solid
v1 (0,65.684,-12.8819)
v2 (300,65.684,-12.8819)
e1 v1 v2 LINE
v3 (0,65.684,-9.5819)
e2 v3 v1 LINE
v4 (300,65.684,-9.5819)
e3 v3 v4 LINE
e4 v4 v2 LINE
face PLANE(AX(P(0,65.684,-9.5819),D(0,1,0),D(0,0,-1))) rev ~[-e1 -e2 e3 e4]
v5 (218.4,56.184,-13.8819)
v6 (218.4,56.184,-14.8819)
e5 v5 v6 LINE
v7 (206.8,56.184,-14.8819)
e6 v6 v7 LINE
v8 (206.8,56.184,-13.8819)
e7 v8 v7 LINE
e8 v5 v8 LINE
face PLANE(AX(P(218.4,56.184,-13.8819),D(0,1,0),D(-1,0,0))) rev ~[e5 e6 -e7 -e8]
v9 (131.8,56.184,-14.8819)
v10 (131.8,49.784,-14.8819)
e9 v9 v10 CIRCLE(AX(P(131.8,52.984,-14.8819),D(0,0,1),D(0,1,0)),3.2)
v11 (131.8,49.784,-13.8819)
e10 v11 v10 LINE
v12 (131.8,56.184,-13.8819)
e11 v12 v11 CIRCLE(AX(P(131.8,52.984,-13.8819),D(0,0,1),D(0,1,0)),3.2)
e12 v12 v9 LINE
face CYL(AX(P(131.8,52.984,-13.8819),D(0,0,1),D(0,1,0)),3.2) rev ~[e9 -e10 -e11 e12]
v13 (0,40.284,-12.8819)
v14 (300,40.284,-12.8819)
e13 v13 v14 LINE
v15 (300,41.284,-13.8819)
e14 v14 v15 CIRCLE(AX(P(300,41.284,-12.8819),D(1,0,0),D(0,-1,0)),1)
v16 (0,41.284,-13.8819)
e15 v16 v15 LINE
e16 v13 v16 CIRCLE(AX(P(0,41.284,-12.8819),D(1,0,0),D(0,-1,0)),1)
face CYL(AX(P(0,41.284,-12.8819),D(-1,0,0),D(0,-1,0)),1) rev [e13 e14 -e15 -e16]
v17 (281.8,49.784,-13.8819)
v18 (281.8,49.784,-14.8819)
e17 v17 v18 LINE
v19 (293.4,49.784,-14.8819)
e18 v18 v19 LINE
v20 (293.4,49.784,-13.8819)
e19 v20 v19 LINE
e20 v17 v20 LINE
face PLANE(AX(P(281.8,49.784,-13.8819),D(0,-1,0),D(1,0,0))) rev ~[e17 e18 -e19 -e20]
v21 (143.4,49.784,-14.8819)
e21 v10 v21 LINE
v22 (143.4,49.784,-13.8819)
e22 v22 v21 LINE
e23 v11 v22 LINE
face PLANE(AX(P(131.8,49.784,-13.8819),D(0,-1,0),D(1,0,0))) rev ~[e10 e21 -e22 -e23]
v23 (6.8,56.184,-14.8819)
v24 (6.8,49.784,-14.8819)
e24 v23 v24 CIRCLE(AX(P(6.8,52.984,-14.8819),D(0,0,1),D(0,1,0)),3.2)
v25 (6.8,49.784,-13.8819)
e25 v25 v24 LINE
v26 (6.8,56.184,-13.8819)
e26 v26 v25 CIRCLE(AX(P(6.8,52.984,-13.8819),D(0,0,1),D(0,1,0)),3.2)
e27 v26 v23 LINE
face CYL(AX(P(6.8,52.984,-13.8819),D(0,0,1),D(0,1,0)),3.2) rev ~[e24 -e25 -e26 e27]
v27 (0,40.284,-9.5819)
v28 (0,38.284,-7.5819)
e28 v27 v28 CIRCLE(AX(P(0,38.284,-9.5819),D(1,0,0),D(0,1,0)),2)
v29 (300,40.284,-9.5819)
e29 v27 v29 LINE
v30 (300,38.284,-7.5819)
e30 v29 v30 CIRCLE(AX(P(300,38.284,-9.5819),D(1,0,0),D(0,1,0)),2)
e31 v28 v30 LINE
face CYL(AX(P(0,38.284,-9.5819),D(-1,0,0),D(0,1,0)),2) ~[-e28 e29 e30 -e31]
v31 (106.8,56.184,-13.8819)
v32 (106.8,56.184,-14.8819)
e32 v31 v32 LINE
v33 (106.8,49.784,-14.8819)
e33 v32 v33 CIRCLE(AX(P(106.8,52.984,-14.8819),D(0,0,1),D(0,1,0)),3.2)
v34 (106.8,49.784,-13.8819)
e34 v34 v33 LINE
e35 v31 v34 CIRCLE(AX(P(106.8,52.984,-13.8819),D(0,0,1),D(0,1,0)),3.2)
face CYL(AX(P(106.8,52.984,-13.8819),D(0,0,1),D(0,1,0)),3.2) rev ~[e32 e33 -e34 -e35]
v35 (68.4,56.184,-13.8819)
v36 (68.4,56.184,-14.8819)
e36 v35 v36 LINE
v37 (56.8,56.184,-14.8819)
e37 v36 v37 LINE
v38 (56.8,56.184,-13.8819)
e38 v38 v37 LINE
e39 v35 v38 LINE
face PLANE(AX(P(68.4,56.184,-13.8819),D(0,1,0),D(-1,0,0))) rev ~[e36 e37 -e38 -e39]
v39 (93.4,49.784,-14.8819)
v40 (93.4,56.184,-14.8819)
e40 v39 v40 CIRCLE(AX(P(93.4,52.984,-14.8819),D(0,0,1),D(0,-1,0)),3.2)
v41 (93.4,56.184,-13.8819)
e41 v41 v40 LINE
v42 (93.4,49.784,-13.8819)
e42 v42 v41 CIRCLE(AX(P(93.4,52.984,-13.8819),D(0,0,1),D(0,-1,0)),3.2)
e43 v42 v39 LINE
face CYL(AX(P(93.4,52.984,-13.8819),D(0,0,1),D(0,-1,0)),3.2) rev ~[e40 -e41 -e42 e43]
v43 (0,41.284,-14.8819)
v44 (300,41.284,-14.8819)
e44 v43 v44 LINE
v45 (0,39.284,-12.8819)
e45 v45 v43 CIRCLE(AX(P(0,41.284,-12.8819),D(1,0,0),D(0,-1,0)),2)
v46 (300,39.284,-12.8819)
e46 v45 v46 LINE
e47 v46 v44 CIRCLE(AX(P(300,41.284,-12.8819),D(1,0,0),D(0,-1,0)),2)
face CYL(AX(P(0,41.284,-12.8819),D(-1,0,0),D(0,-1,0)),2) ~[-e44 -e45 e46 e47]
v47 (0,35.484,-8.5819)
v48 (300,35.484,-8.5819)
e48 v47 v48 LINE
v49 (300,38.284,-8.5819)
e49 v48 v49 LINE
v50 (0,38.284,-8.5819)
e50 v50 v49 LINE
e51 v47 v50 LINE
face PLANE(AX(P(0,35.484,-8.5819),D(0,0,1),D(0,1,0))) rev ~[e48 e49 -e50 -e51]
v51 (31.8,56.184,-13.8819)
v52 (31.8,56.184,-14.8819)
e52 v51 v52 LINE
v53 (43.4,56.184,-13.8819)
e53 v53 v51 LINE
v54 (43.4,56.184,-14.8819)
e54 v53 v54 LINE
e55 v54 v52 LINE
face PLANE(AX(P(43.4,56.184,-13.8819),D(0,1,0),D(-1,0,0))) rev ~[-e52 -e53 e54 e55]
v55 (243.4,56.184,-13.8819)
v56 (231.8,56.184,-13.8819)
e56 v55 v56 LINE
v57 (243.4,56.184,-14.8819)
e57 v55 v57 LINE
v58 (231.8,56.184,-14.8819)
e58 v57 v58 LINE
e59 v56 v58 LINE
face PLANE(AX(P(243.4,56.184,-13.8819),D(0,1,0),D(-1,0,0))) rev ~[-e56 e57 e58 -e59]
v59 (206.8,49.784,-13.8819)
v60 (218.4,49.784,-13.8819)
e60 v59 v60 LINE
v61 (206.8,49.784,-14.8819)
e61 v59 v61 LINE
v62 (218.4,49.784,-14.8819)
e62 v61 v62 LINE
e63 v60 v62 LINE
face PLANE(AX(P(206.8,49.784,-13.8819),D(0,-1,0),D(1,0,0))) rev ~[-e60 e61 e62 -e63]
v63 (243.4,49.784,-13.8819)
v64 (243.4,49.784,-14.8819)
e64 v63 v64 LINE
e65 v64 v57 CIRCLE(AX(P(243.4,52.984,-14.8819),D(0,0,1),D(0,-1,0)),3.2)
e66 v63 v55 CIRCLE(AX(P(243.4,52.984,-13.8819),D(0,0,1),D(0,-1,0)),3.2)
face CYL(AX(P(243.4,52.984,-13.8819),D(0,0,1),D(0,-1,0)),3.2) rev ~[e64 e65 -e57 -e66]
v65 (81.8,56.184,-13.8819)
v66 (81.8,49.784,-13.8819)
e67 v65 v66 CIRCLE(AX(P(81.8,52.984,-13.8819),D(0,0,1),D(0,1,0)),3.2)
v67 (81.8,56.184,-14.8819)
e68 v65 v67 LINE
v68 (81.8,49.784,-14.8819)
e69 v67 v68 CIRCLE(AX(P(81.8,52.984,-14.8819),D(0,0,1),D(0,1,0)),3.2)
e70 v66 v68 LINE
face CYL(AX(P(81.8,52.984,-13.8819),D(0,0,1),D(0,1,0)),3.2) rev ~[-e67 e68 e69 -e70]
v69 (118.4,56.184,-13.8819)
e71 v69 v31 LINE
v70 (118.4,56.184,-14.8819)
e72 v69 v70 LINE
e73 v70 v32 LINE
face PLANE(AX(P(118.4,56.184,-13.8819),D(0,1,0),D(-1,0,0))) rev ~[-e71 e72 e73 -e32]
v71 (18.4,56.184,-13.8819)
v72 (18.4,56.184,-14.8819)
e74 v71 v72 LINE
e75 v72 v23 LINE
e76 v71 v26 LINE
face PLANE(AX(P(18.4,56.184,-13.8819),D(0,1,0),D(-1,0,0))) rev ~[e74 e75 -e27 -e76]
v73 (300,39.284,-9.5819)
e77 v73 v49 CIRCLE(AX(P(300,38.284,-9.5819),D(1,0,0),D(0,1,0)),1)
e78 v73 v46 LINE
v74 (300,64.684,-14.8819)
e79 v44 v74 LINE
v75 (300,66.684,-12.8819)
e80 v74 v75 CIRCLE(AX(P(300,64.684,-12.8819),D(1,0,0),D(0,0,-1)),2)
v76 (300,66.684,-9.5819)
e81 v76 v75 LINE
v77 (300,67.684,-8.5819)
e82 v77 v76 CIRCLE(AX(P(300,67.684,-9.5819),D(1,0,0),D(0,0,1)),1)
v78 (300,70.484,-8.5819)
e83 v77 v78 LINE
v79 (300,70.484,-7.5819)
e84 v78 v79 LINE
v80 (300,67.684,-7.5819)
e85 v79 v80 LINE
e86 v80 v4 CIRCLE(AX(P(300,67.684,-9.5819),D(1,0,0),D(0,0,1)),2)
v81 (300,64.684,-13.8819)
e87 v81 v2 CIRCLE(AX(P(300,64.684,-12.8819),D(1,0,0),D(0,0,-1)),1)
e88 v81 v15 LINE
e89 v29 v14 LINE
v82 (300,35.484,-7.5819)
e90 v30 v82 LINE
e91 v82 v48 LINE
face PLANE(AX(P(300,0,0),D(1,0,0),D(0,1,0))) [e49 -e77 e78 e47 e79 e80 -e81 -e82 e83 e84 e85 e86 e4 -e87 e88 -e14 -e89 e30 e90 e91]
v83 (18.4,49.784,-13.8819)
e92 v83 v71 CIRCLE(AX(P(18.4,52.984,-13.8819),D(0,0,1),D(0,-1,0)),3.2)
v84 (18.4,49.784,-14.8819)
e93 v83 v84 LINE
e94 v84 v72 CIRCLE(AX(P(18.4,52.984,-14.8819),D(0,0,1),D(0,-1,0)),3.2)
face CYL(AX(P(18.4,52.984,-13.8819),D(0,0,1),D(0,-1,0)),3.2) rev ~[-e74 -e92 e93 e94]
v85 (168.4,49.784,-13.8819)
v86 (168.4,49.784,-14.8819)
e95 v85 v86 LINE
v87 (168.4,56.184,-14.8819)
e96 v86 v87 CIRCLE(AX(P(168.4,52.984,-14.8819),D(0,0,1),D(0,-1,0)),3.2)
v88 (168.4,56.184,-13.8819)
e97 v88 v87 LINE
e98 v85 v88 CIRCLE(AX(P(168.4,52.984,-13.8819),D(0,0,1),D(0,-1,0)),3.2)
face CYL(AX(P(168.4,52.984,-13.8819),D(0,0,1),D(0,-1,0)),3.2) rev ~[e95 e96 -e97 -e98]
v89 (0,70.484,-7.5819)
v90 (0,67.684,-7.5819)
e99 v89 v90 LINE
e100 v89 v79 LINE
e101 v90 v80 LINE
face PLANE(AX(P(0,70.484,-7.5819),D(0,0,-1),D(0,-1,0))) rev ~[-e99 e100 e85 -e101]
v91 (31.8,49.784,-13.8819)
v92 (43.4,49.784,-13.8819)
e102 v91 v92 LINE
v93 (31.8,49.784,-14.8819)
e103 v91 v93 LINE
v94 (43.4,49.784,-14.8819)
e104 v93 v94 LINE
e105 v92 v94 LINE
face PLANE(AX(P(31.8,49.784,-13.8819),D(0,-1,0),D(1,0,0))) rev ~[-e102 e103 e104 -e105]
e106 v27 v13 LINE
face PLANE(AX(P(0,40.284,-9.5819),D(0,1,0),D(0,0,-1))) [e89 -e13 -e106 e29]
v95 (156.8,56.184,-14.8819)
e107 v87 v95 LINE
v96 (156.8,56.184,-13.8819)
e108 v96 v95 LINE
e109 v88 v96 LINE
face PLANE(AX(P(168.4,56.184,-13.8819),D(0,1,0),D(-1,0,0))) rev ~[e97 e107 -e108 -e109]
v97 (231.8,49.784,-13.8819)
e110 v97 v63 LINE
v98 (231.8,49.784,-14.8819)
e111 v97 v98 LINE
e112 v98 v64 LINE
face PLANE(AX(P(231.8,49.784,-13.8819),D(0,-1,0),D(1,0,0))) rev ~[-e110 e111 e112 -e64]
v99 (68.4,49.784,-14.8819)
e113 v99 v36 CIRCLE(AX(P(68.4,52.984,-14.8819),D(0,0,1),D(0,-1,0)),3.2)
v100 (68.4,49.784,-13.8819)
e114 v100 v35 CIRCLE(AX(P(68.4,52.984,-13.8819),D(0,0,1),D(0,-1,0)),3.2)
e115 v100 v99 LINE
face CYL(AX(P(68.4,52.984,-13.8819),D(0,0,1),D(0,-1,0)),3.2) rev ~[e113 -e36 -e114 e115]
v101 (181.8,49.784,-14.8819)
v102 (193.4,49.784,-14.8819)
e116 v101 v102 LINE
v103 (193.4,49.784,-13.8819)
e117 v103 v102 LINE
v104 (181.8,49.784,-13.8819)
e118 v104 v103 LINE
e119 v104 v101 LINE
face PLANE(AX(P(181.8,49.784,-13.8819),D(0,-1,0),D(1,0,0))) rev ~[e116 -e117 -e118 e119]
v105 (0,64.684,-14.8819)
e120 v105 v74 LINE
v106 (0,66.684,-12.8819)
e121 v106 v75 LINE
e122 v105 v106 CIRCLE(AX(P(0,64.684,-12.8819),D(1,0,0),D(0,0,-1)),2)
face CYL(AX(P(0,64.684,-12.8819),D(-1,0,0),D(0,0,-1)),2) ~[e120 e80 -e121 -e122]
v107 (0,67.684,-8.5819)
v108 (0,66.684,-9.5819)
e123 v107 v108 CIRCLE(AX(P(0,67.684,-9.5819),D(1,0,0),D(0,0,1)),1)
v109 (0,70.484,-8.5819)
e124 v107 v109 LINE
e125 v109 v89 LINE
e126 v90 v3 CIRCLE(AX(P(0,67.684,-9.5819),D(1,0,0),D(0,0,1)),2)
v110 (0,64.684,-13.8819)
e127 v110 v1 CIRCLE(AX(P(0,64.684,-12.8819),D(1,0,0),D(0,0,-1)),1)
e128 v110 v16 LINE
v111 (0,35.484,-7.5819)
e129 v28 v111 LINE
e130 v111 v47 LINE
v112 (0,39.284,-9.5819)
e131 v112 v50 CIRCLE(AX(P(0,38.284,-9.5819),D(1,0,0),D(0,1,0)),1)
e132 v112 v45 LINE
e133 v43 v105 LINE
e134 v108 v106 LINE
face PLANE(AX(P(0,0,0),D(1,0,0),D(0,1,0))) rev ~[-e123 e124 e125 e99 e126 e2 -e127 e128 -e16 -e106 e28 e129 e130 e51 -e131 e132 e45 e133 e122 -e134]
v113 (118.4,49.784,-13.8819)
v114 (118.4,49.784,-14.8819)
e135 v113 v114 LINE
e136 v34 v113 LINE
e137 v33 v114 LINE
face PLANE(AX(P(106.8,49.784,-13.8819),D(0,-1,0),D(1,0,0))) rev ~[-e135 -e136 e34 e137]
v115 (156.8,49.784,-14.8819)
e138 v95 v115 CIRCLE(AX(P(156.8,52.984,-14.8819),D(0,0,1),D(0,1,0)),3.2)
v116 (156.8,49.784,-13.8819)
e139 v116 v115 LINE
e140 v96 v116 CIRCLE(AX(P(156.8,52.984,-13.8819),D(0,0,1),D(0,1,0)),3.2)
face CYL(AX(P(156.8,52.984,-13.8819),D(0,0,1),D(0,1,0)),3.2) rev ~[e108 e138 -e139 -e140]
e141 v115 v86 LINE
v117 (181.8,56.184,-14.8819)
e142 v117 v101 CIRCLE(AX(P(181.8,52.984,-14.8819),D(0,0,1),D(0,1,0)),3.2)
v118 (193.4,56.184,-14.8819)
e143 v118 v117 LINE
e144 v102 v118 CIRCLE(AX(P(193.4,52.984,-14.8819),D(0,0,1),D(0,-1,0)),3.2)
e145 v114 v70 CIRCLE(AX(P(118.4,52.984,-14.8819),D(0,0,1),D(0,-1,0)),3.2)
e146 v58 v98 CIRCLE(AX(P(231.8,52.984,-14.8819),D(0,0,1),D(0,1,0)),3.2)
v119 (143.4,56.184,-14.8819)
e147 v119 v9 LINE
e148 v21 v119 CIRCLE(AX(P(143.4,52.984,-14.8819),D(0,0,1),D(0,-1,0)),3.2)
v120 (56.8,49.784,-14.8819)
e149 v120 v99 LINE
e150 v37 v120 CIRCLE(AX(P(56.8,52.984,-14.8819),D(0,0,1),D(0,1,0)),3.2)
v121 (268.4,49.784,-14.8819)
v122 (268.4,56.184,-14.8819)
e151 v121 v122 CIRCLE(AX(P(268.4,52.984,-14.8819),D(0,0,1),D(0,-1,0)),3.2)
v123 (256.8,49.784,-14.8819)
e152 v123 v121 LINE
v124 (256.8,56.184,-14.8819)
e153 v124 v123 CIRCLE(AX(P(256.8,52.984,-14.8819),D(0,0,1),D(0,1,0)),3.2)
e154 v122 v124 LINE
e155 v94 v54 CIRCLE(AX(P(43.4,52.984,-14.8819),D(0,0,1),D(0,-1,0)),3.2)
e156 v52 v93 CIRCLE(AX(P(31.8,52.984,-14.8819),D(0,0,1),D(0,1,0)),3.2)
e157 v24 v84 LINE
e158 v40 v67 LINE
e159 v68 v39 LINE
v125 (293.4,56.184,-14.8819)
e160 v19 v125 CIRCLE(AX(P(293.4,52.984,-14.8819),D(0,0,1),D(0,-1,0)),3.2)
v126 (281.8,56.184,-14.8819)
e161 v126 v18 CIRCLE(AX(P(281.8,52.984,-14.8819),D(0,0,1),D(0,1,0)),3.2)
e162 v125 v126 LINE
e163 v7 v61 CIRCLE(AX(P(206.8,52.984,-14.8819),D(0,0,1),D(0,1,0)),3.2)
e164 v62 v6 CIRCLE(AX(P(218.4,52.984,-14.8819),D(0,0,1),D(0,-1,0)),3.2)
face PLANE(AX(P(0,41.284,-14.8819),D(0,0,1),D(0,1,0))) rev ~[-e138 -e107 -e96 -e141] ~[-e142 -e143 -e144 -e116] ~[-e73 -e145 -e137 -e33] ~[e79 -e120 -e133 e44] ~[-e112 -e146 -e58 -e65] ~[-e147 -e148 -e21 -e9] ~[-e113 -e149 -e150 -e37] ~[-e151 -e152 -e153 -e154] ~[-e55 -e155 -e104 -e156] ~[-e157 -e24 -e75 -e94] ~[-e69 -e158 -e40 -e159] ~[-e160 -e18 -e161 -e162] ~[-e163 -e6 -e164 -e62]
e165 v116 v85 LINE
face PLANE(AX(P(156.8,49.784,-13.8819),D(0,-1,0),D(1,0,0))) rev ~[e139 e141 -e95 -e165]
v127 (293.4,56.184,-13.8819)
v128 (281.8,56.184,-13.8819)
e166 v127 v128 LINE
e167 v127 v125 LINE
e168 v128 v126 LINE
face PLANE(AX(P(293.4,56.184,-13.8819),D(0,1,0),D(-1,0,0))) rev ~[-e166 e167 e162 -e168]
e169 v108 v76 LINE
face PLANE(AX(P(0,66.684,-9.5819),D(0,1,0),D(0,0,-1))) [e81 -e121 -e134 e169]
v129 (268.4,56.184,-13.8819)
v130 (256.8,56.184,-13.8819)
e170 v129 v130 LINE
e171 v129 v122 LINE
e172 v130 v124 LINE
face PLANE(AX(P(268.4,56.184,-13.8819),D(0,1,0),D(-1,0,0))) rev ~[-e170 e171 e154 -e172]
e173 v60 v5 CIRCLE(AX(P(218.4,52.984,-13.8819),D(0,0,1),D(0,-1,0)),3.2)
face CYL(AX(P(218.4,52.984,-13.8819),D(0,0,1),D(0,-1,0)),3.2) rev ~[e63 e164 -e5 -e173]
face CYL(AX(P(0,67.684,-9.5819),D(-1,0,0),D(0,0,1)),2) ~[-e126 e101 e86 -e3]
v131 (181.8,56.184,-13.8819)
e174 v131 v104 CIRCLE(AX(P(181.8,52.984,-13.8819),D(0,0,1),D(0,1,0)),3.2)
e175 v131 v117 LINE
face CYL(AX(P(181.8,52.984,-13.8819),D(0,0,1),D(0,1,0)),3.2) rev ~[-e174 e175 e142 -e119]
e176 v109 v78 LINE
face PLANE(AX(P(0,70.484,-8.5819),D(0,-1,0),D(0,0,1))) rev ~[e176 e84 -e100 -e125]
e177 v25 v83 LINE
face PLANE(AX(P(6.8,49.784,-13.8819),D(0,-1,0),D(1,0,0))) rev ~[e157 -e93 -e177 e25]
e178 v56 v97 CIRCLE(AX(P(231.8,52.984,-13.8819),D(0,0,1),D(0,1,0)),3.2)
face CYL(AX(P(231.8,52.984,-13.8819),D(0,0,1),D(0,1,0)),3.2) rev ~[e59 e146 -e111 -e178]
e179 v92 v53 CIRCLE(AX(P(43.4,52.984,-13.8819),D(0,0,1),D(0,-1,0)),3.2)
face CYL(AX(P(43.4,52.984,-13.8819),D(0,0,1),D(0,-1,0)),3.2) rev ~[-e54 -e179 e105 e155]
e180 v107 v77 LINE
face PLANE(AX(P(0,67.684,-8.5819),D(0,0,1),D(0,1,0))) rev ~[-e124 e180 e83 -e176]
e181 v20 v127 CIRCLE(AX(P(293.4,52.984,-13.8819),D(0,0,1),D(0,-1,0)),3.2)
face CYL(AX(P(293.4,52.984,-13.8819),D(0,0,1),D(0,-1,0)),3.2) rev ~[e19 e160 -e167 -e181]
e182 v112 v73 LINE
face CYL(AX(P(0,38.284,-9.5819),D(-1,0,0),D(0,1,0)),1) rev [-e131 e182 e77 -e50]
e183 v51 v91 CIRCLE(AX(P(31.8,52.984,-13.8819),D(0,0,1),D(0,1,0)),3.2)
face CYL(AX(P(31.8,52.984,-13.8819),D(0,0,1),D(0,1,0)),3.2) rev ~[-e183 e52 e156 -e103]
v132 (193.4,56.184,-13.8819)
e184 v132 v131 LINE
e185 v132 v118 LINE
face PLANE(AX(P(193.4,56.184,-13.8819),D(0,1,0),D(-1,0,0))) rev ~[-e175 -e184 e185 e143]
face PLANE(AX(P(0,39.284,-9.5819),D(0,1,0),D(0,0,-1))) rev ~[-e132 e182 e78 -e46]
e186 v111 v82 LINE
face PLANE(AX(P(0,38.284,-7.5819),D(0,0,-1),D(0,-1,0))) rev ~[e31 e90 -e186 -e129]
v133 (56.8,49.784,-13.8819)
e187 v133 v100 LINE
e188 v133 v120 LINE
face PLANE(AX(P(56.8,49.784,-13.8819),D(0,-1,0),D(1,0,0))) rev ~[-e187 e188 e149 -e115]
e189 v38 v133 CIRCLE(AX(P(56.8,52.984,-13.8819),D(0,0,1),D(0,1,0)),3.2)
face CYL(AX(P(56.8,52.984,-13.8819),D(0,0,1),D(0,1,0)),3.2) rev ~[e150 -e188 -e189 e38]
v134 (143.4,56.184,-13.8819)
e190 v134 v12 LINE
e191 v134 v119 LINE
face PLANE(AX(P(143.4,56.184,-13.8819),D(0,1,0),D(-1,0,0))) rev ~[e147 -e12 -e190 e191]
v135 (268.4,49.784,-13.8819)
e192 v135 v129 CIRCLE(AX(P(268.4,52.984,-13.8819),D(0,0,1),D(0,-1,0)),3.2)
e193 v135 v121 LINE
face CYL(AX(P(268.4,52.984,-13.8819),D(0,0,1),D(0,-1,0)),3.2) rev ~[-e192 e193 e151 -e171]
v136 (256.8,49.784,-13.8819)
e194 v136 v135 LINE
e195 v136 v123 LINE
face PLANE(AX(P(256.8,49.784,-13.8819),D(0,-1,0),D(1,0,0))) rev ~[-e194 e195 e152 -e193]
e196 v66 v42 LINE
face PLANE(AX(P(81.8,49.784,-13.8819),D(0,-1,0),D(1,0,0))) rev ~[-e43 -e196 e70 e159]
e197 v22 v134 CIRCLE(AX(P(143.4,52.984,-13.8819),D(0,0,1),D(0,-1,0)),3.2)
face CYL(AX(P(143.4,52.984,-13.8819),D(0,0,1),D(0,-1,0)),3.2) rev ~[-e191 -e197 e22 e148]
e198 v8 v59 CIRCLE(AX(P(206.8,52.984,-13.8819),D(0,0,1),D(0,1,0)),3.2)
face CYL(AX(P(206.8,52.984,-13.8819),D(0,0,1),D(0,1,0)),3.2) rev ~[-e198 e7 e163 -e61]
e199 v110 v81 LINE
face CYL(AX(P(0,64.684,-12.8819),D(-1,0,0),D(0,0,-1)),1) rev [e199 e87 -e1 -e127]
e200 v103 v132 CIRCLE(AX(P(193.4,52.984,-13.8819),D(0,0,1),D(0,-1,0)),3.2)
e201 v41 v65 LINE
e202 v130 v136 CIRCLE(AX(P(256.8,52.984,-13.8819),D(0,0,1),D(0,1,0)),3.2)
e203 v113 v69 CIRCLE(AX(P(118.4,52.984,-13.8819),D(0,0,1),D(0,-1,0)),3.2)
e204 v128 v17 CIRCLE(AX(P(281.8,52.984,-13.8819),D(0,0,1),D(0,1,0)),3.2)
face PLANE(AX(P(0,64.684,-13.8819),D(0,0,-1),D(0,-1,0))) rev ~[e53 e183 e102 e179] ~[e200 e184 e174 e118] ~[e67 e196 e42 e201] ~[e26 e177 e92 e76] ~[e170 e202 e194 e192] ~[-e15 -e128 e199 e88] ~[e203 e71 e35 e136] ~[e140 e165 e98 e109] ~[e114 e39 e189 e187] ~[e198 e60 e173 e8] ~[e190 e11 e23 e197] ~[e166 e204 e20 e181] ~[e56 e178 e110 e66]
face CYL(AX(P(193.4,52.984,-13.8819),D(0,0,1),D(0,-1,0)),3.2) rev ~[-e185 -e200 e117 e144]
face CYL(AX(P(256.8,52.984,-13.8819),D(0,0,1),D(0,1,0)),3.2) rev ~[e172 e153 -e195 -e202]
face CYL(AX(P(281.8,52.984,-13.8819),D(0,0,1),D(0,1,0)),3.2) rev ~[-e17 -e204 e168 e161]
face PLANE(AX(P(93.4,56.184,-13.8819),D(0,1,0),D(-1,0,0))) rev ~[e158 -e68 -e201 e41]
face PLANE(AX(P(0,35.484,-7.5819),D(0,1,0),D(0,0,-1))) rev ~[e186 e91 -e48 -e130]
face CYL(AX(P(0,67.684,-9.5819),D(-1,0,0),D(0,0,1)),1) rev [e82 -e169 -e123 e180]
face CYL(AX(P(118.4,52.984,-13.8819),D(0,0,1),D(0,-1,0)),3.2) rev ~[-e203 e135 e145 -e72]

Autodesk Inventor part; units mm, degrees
ref_plane "YZ Plane" through (0, 0, 0) normal (1, 0, 0) x (0, 1, 0)
ref_plane "XZ Plane" through (0, 0, 0) normal (0, 1, 0) x (-1, 0, 0)
ref_plane "XY Plane" through (0, 0, 0) normal (0, 0, 1) x (1, 0, 0)
sketch "Sketch1" plane through (0, 0, 0) normal (1, 0, 0) x (0, 1, 0)
  line L0 (41.284, -14.8819) -> (64.684, -14.8819)
  line L1 (64.684, -13.8819) -> (41.284, -13.8819)
  line L2 (67.684, -8.5819) -> (70.484, -8.5819)
  line L3 (70.484, -8.5819) -> (70.484, -7.5819)
  line L4 (70.484, -7.5819) -> (67.684, -7.5819)
  line L5 (-1817770.1114, -20.3632) -> (-1817770.1114, -8.5819)
  line L6 (38.284, -7.5819) -> (35.484, -7.5819)
  line L7 (35.484, -7.5819) -> (35.484, -8.5819)
  line L8 (35.484, -8.5819) -> (38.284, -8.5819)
  line L9 (40.284, -9.5819) -> (40.284, -12.8819)
  arc A0 (67.684, -8.5819) -> (66.684, -9.5819) centre (67.684, -9.5819) ccw
  arc A1 (64.684, -13.8819) -> (65.684, -12.8819) centre (64.684, -12.8819) ccw
  arc A2 (40.284, -12.8819) -> (41.284, -13.8819) centre (41.284, -12.8819) ccw
  arc A3 (39.284, -9.5819) -> (38.284, -8.5819) centre (38.284, -9.5819) ccw
  arc A4 (40.284, -9.5819) -> (38.284, -7.5819) centre (38.284, -9.5819) ccw
  arc A5 (39.284, -12.8819) -> (41.284, -14.8819) centre (41.284, -12.8819) ccw
  line L10 (39.284, -9.5819) -> (39.284, -12.8819)
  arc A6 (67.684, -7.5819) -> (65.684, -9.5819) centre (67.684, -9.5819) ccw
  arc A7 (64.684, -14.8819) -> (66.684, -12.8819) centre (64.684, -12.8819) ccw
  line L11 (66.684, -9.5819) -> (66.684, -12.8819)
  line L12 (65.684, -9.5819) -> (65.684, -12.8819)
  line L13 (52.984, -4.8951) -> (52.984, -40.6352) construction
  line L14 (-285.558, -25.9225) -> (179.442, -25.9225) projected
  line L15 (179.442, -25.9225) -> (179.442, -22.9225) projected
  line L16 (-285.558, -22.9225) -> (179.442, -22.9225) projected
  line L17 (-285.558, -25.9225) -> (-285.558, -22.9225) projected
  point P0 (0, 0)
  point P1 (40.284, -11.2319)
  dimension "d0" = 1
  dimension "d1" = 1
  dimension "d5" = 35
  dimension "d8" = 7.3
  dimension "d9" = 1
  dimension "d10" = 1
  dimension "d11" = 2
  dimension "d12" = 2
  dimension "d13" = 12.7
  dimension "d15" = 12.7
  dimension "d16" = 4.8
  dimension "d17" = 4.8
  dimension "d20" = 1
  dimension "d21" = 1
  dimension "d22" = 2
extrude "Extrusion1" add sketch "Sketch1" along normal blind 300 contours A5 L10 A3 L8 L7 L6 A4 L9 A2 L1 A1 L12 A6 L4 L3 L2 A0 L11 A7 L0
sketch "Sketch2" plane through (0, 41.284, -13.8819) normal (0, 0, 1) x (1, 0, 0)
  line L0 (3.6, 11.7) -> (21.6, 11.7) construction
  line L1 (6.8, 8.5) -> (18.4, 8.5)
  line L2 (18.4, 14.9) -> (6.8, 14.9)
  arc A0 (6.8, 14.9) -> (6.8, 8.5) centre (6.8, 11.7) ccw
  arc A1 (18.4, 8.5) -> (18.4, 14.9) centre (18.4, 11.7) ccw
  line L3 (0, 29.2) -> (300, 29.2) projected
  line L4 (0, -5.8) -> (300, -5.8) projected
  line L5 (0, 23.4) -> (0, 0) projected
  arc A2 (31.8, 14.9) -> (31.8, 8.5) centre (31.8, 11.7) ccw
  line L6 (31.8, 8.5) -> (43.4, 8.5)
  arc A3 (43.4, 8.5) -> (43.4, 14.9) centre (43.4, 11.7) ccw
  line L7 (43.4, 14.9) -> (31.8, 14.9)
  arc A4 (56.8, 14.9) -> (56.8, 8.5) centre (56.8, 11.7) ccw
  line L8 (56.8, 8.5) -> (68.4, 8.5)
  arc A5 (68.4, 8.5) -> (68.4, 14.9) centre (68.4, 11.7) ccw
  line L9 (68.4, 14.9) -> (56.8, 14.9)
  arc A6 (81.8, 14.9) -> (81.8, 8.5) centre (81.8, 11.7) ccw
  line L10 (81.8, 8.5) -> (93.4, 8.5)
  arc A7 (93.4, 8.5) -> (93.4, 14.9) centre (93.4, 11.7) ccw
  line L11 (93.4, 14.9) -> (81.8, 14.9)
  arc A8 (106.8, 14.9) -> (106.8, 8.5) centre (106.8, 11.7) ccw
  line L12 (106.8, 8.5) -> (118.4, 8.5)
  arc A9 (118.4, 8.5) -> (118.4, 14.9) centre (118.4, 11.7) ccw
  line L13 (118.4, 14.9) -> (106.8, 14.9)
  arc A10 (131.8, 14.9) -> (131.8, 8.5) centre (131.8, 11.7) ccw
  line L14 (131.8, 8.5) -> (143.4, 8.5)
  arc A11 (143.4, 8.5) -> (143.4, 14.9) centre (143.4, 11.7) ccw
  line L15 (143.4, 14.9) -> (131.8, 14.9)
  arc A12 (156.8, 14.9) -> (156.8, 8.5) centre (156.8, 11.7) ccw
  line L16 (156.8, 8.5) -> (168.4, 8.5)
  arc A13 (168.4, 8.5) -> (168.4, 14.9) centre (168.4, 11.7) ccw
  line L17 (168.4, 14.9) -> (156.8, 14.9)
  arc A14 (181.8, 14.9) -> (181.8, 8.5) centre (181.8, 11.7) ccw
  line L18 (181.8, 8.5) -> (193.4, 8.5)
  arc A15 (193.4, 8.5) -> (193.4, 14.9) centre (193.4, 11.7) ccw
  line L19 (193.4, 14.9) -> (181.8, 14.9)
  line L20 (0, 0) -> (300, 0) projected
  line L21 (0, 24.4) -> (300, 24.4) projected
  line L22 (0, -1) -> (300, -1) projected
  arc A16 (206.8, 14.9) -> (206.8, 8.5) centre (206.8, 11.7) ccw
  line L23 (218.4, 14.9) -> (206.8, 14.9)
  arc A17 (218.4, 8.5) -> (218.4, 14.9) centre (218.4, 11.7) ccw
  line L24 (206.8, 8.5) -> (218.4, 8.5)
  arc A18 (231.8, 14.9) -> (231.8, 8.5) centre (231.8, 11.7) ccw
  line L25 (243.4, 14.9) -> (231.8, 14.9)
  arc A19 (243.4, 8.5) -> (243.4, 14.9) centre (243.4, 11.7) ccw
  line L26 (231.8, 8.5) -> (243.4, 8.5)
  arc A20 (256.8, 14.9) -> (256.8, 8.5) centre (256.8, 11.7) ccw
  line L27 (268.4, 14.9) -> (256.8, 14.9)
  arc A21 (268.4, 8.5) -> (268.4, 14.9) centre (268.4, 11.7) ccw
  line L28 (256.8, 8.5) -> (268.4, 8.5)
  arc A22 (281.8, 14.9) -> (281.8, 8.5) centre (281.8, 11.7) ccw
  line L29 (293.4, 14.9) -> (281.8, 14.9)
  arc A23 (293.4, 8.5) -> (293.4, 14.9) centre (293.4, 11.7) ccw
  line L30 (281.8, 8.5) -> (293.4, 8.5)
  point P0 (0, -41.284)
  point P1 (12.6, 11.7)
  point P2 (28.6, 11.7)
  point P3 (46.6, 11.7)
  point P4 (53.6, 11.7)
  point P5 (71.6, 11.7)
  point P6 (78.6, 11.7)
  point P7 (96.6, 11.7)
  point P8 (103.6, 11.7)
  point P9 (121.6, 11.7)
  point P10 (128.6, 11.7)
  point P11 (146.6, 11.7)
  point P12 (153.6, 11.7)
  point P13 (171.6, 11.7)
  point P14 (178.6, 11.7)
  point P15 (196.6, 11.7)
  point P16 (28.6, 11.7)
  point P17 (203.6, 11.7)
  point P18 (221.6, 11.7)
  point P19 (228.6, 11.7)
  point P20 (246.6, 11.7)
  point P21 (253.6, 11.7)
  point P22 (271.6, 11.7)
  point P23 (278.6, 11.7)
  point P24 (296.6, 11.7)
  dimension "d26" = 18
  dimension "d33" = 25
  dimension "d46" = 3.6
  dimension "d47" = 17.5
  dimension "d48" = 17.5
  dimension "d51" = 25
extrude "Extrusion2" cut sketch "Sketch2" against normal blind 25
sketch "Sketch3" plane through (0, 41.284, -13.8819) normal (0, 0, 1) x (1, 0, 0)
  line L0 (110, 34.2) -> (302, 34.2)
  line L1 (302, 34.2) -> (302, -10.8)
  line L2 (302, -10.8) -> (110, -10.8)
  line L3 (110, -10.8) -> (110, 34.2)
  line L4 (0, 23.4) -> (0, 0) projected
  line L5 (300, 23.4) -> (300, 0) projected
  line L6 (0, -5.8) -> (300, -5.8) projected
  line L7 (0, 29.2) -> (300, 29.2) projected
  point P0 (0, -41.284)
  dimension "d56" = 110
  dimension "d57" = 2
  dimension "d58" = 5
  dimension "d59" = 5
equation "\"d39\" = d33"
properties part number "DIN-rail"
